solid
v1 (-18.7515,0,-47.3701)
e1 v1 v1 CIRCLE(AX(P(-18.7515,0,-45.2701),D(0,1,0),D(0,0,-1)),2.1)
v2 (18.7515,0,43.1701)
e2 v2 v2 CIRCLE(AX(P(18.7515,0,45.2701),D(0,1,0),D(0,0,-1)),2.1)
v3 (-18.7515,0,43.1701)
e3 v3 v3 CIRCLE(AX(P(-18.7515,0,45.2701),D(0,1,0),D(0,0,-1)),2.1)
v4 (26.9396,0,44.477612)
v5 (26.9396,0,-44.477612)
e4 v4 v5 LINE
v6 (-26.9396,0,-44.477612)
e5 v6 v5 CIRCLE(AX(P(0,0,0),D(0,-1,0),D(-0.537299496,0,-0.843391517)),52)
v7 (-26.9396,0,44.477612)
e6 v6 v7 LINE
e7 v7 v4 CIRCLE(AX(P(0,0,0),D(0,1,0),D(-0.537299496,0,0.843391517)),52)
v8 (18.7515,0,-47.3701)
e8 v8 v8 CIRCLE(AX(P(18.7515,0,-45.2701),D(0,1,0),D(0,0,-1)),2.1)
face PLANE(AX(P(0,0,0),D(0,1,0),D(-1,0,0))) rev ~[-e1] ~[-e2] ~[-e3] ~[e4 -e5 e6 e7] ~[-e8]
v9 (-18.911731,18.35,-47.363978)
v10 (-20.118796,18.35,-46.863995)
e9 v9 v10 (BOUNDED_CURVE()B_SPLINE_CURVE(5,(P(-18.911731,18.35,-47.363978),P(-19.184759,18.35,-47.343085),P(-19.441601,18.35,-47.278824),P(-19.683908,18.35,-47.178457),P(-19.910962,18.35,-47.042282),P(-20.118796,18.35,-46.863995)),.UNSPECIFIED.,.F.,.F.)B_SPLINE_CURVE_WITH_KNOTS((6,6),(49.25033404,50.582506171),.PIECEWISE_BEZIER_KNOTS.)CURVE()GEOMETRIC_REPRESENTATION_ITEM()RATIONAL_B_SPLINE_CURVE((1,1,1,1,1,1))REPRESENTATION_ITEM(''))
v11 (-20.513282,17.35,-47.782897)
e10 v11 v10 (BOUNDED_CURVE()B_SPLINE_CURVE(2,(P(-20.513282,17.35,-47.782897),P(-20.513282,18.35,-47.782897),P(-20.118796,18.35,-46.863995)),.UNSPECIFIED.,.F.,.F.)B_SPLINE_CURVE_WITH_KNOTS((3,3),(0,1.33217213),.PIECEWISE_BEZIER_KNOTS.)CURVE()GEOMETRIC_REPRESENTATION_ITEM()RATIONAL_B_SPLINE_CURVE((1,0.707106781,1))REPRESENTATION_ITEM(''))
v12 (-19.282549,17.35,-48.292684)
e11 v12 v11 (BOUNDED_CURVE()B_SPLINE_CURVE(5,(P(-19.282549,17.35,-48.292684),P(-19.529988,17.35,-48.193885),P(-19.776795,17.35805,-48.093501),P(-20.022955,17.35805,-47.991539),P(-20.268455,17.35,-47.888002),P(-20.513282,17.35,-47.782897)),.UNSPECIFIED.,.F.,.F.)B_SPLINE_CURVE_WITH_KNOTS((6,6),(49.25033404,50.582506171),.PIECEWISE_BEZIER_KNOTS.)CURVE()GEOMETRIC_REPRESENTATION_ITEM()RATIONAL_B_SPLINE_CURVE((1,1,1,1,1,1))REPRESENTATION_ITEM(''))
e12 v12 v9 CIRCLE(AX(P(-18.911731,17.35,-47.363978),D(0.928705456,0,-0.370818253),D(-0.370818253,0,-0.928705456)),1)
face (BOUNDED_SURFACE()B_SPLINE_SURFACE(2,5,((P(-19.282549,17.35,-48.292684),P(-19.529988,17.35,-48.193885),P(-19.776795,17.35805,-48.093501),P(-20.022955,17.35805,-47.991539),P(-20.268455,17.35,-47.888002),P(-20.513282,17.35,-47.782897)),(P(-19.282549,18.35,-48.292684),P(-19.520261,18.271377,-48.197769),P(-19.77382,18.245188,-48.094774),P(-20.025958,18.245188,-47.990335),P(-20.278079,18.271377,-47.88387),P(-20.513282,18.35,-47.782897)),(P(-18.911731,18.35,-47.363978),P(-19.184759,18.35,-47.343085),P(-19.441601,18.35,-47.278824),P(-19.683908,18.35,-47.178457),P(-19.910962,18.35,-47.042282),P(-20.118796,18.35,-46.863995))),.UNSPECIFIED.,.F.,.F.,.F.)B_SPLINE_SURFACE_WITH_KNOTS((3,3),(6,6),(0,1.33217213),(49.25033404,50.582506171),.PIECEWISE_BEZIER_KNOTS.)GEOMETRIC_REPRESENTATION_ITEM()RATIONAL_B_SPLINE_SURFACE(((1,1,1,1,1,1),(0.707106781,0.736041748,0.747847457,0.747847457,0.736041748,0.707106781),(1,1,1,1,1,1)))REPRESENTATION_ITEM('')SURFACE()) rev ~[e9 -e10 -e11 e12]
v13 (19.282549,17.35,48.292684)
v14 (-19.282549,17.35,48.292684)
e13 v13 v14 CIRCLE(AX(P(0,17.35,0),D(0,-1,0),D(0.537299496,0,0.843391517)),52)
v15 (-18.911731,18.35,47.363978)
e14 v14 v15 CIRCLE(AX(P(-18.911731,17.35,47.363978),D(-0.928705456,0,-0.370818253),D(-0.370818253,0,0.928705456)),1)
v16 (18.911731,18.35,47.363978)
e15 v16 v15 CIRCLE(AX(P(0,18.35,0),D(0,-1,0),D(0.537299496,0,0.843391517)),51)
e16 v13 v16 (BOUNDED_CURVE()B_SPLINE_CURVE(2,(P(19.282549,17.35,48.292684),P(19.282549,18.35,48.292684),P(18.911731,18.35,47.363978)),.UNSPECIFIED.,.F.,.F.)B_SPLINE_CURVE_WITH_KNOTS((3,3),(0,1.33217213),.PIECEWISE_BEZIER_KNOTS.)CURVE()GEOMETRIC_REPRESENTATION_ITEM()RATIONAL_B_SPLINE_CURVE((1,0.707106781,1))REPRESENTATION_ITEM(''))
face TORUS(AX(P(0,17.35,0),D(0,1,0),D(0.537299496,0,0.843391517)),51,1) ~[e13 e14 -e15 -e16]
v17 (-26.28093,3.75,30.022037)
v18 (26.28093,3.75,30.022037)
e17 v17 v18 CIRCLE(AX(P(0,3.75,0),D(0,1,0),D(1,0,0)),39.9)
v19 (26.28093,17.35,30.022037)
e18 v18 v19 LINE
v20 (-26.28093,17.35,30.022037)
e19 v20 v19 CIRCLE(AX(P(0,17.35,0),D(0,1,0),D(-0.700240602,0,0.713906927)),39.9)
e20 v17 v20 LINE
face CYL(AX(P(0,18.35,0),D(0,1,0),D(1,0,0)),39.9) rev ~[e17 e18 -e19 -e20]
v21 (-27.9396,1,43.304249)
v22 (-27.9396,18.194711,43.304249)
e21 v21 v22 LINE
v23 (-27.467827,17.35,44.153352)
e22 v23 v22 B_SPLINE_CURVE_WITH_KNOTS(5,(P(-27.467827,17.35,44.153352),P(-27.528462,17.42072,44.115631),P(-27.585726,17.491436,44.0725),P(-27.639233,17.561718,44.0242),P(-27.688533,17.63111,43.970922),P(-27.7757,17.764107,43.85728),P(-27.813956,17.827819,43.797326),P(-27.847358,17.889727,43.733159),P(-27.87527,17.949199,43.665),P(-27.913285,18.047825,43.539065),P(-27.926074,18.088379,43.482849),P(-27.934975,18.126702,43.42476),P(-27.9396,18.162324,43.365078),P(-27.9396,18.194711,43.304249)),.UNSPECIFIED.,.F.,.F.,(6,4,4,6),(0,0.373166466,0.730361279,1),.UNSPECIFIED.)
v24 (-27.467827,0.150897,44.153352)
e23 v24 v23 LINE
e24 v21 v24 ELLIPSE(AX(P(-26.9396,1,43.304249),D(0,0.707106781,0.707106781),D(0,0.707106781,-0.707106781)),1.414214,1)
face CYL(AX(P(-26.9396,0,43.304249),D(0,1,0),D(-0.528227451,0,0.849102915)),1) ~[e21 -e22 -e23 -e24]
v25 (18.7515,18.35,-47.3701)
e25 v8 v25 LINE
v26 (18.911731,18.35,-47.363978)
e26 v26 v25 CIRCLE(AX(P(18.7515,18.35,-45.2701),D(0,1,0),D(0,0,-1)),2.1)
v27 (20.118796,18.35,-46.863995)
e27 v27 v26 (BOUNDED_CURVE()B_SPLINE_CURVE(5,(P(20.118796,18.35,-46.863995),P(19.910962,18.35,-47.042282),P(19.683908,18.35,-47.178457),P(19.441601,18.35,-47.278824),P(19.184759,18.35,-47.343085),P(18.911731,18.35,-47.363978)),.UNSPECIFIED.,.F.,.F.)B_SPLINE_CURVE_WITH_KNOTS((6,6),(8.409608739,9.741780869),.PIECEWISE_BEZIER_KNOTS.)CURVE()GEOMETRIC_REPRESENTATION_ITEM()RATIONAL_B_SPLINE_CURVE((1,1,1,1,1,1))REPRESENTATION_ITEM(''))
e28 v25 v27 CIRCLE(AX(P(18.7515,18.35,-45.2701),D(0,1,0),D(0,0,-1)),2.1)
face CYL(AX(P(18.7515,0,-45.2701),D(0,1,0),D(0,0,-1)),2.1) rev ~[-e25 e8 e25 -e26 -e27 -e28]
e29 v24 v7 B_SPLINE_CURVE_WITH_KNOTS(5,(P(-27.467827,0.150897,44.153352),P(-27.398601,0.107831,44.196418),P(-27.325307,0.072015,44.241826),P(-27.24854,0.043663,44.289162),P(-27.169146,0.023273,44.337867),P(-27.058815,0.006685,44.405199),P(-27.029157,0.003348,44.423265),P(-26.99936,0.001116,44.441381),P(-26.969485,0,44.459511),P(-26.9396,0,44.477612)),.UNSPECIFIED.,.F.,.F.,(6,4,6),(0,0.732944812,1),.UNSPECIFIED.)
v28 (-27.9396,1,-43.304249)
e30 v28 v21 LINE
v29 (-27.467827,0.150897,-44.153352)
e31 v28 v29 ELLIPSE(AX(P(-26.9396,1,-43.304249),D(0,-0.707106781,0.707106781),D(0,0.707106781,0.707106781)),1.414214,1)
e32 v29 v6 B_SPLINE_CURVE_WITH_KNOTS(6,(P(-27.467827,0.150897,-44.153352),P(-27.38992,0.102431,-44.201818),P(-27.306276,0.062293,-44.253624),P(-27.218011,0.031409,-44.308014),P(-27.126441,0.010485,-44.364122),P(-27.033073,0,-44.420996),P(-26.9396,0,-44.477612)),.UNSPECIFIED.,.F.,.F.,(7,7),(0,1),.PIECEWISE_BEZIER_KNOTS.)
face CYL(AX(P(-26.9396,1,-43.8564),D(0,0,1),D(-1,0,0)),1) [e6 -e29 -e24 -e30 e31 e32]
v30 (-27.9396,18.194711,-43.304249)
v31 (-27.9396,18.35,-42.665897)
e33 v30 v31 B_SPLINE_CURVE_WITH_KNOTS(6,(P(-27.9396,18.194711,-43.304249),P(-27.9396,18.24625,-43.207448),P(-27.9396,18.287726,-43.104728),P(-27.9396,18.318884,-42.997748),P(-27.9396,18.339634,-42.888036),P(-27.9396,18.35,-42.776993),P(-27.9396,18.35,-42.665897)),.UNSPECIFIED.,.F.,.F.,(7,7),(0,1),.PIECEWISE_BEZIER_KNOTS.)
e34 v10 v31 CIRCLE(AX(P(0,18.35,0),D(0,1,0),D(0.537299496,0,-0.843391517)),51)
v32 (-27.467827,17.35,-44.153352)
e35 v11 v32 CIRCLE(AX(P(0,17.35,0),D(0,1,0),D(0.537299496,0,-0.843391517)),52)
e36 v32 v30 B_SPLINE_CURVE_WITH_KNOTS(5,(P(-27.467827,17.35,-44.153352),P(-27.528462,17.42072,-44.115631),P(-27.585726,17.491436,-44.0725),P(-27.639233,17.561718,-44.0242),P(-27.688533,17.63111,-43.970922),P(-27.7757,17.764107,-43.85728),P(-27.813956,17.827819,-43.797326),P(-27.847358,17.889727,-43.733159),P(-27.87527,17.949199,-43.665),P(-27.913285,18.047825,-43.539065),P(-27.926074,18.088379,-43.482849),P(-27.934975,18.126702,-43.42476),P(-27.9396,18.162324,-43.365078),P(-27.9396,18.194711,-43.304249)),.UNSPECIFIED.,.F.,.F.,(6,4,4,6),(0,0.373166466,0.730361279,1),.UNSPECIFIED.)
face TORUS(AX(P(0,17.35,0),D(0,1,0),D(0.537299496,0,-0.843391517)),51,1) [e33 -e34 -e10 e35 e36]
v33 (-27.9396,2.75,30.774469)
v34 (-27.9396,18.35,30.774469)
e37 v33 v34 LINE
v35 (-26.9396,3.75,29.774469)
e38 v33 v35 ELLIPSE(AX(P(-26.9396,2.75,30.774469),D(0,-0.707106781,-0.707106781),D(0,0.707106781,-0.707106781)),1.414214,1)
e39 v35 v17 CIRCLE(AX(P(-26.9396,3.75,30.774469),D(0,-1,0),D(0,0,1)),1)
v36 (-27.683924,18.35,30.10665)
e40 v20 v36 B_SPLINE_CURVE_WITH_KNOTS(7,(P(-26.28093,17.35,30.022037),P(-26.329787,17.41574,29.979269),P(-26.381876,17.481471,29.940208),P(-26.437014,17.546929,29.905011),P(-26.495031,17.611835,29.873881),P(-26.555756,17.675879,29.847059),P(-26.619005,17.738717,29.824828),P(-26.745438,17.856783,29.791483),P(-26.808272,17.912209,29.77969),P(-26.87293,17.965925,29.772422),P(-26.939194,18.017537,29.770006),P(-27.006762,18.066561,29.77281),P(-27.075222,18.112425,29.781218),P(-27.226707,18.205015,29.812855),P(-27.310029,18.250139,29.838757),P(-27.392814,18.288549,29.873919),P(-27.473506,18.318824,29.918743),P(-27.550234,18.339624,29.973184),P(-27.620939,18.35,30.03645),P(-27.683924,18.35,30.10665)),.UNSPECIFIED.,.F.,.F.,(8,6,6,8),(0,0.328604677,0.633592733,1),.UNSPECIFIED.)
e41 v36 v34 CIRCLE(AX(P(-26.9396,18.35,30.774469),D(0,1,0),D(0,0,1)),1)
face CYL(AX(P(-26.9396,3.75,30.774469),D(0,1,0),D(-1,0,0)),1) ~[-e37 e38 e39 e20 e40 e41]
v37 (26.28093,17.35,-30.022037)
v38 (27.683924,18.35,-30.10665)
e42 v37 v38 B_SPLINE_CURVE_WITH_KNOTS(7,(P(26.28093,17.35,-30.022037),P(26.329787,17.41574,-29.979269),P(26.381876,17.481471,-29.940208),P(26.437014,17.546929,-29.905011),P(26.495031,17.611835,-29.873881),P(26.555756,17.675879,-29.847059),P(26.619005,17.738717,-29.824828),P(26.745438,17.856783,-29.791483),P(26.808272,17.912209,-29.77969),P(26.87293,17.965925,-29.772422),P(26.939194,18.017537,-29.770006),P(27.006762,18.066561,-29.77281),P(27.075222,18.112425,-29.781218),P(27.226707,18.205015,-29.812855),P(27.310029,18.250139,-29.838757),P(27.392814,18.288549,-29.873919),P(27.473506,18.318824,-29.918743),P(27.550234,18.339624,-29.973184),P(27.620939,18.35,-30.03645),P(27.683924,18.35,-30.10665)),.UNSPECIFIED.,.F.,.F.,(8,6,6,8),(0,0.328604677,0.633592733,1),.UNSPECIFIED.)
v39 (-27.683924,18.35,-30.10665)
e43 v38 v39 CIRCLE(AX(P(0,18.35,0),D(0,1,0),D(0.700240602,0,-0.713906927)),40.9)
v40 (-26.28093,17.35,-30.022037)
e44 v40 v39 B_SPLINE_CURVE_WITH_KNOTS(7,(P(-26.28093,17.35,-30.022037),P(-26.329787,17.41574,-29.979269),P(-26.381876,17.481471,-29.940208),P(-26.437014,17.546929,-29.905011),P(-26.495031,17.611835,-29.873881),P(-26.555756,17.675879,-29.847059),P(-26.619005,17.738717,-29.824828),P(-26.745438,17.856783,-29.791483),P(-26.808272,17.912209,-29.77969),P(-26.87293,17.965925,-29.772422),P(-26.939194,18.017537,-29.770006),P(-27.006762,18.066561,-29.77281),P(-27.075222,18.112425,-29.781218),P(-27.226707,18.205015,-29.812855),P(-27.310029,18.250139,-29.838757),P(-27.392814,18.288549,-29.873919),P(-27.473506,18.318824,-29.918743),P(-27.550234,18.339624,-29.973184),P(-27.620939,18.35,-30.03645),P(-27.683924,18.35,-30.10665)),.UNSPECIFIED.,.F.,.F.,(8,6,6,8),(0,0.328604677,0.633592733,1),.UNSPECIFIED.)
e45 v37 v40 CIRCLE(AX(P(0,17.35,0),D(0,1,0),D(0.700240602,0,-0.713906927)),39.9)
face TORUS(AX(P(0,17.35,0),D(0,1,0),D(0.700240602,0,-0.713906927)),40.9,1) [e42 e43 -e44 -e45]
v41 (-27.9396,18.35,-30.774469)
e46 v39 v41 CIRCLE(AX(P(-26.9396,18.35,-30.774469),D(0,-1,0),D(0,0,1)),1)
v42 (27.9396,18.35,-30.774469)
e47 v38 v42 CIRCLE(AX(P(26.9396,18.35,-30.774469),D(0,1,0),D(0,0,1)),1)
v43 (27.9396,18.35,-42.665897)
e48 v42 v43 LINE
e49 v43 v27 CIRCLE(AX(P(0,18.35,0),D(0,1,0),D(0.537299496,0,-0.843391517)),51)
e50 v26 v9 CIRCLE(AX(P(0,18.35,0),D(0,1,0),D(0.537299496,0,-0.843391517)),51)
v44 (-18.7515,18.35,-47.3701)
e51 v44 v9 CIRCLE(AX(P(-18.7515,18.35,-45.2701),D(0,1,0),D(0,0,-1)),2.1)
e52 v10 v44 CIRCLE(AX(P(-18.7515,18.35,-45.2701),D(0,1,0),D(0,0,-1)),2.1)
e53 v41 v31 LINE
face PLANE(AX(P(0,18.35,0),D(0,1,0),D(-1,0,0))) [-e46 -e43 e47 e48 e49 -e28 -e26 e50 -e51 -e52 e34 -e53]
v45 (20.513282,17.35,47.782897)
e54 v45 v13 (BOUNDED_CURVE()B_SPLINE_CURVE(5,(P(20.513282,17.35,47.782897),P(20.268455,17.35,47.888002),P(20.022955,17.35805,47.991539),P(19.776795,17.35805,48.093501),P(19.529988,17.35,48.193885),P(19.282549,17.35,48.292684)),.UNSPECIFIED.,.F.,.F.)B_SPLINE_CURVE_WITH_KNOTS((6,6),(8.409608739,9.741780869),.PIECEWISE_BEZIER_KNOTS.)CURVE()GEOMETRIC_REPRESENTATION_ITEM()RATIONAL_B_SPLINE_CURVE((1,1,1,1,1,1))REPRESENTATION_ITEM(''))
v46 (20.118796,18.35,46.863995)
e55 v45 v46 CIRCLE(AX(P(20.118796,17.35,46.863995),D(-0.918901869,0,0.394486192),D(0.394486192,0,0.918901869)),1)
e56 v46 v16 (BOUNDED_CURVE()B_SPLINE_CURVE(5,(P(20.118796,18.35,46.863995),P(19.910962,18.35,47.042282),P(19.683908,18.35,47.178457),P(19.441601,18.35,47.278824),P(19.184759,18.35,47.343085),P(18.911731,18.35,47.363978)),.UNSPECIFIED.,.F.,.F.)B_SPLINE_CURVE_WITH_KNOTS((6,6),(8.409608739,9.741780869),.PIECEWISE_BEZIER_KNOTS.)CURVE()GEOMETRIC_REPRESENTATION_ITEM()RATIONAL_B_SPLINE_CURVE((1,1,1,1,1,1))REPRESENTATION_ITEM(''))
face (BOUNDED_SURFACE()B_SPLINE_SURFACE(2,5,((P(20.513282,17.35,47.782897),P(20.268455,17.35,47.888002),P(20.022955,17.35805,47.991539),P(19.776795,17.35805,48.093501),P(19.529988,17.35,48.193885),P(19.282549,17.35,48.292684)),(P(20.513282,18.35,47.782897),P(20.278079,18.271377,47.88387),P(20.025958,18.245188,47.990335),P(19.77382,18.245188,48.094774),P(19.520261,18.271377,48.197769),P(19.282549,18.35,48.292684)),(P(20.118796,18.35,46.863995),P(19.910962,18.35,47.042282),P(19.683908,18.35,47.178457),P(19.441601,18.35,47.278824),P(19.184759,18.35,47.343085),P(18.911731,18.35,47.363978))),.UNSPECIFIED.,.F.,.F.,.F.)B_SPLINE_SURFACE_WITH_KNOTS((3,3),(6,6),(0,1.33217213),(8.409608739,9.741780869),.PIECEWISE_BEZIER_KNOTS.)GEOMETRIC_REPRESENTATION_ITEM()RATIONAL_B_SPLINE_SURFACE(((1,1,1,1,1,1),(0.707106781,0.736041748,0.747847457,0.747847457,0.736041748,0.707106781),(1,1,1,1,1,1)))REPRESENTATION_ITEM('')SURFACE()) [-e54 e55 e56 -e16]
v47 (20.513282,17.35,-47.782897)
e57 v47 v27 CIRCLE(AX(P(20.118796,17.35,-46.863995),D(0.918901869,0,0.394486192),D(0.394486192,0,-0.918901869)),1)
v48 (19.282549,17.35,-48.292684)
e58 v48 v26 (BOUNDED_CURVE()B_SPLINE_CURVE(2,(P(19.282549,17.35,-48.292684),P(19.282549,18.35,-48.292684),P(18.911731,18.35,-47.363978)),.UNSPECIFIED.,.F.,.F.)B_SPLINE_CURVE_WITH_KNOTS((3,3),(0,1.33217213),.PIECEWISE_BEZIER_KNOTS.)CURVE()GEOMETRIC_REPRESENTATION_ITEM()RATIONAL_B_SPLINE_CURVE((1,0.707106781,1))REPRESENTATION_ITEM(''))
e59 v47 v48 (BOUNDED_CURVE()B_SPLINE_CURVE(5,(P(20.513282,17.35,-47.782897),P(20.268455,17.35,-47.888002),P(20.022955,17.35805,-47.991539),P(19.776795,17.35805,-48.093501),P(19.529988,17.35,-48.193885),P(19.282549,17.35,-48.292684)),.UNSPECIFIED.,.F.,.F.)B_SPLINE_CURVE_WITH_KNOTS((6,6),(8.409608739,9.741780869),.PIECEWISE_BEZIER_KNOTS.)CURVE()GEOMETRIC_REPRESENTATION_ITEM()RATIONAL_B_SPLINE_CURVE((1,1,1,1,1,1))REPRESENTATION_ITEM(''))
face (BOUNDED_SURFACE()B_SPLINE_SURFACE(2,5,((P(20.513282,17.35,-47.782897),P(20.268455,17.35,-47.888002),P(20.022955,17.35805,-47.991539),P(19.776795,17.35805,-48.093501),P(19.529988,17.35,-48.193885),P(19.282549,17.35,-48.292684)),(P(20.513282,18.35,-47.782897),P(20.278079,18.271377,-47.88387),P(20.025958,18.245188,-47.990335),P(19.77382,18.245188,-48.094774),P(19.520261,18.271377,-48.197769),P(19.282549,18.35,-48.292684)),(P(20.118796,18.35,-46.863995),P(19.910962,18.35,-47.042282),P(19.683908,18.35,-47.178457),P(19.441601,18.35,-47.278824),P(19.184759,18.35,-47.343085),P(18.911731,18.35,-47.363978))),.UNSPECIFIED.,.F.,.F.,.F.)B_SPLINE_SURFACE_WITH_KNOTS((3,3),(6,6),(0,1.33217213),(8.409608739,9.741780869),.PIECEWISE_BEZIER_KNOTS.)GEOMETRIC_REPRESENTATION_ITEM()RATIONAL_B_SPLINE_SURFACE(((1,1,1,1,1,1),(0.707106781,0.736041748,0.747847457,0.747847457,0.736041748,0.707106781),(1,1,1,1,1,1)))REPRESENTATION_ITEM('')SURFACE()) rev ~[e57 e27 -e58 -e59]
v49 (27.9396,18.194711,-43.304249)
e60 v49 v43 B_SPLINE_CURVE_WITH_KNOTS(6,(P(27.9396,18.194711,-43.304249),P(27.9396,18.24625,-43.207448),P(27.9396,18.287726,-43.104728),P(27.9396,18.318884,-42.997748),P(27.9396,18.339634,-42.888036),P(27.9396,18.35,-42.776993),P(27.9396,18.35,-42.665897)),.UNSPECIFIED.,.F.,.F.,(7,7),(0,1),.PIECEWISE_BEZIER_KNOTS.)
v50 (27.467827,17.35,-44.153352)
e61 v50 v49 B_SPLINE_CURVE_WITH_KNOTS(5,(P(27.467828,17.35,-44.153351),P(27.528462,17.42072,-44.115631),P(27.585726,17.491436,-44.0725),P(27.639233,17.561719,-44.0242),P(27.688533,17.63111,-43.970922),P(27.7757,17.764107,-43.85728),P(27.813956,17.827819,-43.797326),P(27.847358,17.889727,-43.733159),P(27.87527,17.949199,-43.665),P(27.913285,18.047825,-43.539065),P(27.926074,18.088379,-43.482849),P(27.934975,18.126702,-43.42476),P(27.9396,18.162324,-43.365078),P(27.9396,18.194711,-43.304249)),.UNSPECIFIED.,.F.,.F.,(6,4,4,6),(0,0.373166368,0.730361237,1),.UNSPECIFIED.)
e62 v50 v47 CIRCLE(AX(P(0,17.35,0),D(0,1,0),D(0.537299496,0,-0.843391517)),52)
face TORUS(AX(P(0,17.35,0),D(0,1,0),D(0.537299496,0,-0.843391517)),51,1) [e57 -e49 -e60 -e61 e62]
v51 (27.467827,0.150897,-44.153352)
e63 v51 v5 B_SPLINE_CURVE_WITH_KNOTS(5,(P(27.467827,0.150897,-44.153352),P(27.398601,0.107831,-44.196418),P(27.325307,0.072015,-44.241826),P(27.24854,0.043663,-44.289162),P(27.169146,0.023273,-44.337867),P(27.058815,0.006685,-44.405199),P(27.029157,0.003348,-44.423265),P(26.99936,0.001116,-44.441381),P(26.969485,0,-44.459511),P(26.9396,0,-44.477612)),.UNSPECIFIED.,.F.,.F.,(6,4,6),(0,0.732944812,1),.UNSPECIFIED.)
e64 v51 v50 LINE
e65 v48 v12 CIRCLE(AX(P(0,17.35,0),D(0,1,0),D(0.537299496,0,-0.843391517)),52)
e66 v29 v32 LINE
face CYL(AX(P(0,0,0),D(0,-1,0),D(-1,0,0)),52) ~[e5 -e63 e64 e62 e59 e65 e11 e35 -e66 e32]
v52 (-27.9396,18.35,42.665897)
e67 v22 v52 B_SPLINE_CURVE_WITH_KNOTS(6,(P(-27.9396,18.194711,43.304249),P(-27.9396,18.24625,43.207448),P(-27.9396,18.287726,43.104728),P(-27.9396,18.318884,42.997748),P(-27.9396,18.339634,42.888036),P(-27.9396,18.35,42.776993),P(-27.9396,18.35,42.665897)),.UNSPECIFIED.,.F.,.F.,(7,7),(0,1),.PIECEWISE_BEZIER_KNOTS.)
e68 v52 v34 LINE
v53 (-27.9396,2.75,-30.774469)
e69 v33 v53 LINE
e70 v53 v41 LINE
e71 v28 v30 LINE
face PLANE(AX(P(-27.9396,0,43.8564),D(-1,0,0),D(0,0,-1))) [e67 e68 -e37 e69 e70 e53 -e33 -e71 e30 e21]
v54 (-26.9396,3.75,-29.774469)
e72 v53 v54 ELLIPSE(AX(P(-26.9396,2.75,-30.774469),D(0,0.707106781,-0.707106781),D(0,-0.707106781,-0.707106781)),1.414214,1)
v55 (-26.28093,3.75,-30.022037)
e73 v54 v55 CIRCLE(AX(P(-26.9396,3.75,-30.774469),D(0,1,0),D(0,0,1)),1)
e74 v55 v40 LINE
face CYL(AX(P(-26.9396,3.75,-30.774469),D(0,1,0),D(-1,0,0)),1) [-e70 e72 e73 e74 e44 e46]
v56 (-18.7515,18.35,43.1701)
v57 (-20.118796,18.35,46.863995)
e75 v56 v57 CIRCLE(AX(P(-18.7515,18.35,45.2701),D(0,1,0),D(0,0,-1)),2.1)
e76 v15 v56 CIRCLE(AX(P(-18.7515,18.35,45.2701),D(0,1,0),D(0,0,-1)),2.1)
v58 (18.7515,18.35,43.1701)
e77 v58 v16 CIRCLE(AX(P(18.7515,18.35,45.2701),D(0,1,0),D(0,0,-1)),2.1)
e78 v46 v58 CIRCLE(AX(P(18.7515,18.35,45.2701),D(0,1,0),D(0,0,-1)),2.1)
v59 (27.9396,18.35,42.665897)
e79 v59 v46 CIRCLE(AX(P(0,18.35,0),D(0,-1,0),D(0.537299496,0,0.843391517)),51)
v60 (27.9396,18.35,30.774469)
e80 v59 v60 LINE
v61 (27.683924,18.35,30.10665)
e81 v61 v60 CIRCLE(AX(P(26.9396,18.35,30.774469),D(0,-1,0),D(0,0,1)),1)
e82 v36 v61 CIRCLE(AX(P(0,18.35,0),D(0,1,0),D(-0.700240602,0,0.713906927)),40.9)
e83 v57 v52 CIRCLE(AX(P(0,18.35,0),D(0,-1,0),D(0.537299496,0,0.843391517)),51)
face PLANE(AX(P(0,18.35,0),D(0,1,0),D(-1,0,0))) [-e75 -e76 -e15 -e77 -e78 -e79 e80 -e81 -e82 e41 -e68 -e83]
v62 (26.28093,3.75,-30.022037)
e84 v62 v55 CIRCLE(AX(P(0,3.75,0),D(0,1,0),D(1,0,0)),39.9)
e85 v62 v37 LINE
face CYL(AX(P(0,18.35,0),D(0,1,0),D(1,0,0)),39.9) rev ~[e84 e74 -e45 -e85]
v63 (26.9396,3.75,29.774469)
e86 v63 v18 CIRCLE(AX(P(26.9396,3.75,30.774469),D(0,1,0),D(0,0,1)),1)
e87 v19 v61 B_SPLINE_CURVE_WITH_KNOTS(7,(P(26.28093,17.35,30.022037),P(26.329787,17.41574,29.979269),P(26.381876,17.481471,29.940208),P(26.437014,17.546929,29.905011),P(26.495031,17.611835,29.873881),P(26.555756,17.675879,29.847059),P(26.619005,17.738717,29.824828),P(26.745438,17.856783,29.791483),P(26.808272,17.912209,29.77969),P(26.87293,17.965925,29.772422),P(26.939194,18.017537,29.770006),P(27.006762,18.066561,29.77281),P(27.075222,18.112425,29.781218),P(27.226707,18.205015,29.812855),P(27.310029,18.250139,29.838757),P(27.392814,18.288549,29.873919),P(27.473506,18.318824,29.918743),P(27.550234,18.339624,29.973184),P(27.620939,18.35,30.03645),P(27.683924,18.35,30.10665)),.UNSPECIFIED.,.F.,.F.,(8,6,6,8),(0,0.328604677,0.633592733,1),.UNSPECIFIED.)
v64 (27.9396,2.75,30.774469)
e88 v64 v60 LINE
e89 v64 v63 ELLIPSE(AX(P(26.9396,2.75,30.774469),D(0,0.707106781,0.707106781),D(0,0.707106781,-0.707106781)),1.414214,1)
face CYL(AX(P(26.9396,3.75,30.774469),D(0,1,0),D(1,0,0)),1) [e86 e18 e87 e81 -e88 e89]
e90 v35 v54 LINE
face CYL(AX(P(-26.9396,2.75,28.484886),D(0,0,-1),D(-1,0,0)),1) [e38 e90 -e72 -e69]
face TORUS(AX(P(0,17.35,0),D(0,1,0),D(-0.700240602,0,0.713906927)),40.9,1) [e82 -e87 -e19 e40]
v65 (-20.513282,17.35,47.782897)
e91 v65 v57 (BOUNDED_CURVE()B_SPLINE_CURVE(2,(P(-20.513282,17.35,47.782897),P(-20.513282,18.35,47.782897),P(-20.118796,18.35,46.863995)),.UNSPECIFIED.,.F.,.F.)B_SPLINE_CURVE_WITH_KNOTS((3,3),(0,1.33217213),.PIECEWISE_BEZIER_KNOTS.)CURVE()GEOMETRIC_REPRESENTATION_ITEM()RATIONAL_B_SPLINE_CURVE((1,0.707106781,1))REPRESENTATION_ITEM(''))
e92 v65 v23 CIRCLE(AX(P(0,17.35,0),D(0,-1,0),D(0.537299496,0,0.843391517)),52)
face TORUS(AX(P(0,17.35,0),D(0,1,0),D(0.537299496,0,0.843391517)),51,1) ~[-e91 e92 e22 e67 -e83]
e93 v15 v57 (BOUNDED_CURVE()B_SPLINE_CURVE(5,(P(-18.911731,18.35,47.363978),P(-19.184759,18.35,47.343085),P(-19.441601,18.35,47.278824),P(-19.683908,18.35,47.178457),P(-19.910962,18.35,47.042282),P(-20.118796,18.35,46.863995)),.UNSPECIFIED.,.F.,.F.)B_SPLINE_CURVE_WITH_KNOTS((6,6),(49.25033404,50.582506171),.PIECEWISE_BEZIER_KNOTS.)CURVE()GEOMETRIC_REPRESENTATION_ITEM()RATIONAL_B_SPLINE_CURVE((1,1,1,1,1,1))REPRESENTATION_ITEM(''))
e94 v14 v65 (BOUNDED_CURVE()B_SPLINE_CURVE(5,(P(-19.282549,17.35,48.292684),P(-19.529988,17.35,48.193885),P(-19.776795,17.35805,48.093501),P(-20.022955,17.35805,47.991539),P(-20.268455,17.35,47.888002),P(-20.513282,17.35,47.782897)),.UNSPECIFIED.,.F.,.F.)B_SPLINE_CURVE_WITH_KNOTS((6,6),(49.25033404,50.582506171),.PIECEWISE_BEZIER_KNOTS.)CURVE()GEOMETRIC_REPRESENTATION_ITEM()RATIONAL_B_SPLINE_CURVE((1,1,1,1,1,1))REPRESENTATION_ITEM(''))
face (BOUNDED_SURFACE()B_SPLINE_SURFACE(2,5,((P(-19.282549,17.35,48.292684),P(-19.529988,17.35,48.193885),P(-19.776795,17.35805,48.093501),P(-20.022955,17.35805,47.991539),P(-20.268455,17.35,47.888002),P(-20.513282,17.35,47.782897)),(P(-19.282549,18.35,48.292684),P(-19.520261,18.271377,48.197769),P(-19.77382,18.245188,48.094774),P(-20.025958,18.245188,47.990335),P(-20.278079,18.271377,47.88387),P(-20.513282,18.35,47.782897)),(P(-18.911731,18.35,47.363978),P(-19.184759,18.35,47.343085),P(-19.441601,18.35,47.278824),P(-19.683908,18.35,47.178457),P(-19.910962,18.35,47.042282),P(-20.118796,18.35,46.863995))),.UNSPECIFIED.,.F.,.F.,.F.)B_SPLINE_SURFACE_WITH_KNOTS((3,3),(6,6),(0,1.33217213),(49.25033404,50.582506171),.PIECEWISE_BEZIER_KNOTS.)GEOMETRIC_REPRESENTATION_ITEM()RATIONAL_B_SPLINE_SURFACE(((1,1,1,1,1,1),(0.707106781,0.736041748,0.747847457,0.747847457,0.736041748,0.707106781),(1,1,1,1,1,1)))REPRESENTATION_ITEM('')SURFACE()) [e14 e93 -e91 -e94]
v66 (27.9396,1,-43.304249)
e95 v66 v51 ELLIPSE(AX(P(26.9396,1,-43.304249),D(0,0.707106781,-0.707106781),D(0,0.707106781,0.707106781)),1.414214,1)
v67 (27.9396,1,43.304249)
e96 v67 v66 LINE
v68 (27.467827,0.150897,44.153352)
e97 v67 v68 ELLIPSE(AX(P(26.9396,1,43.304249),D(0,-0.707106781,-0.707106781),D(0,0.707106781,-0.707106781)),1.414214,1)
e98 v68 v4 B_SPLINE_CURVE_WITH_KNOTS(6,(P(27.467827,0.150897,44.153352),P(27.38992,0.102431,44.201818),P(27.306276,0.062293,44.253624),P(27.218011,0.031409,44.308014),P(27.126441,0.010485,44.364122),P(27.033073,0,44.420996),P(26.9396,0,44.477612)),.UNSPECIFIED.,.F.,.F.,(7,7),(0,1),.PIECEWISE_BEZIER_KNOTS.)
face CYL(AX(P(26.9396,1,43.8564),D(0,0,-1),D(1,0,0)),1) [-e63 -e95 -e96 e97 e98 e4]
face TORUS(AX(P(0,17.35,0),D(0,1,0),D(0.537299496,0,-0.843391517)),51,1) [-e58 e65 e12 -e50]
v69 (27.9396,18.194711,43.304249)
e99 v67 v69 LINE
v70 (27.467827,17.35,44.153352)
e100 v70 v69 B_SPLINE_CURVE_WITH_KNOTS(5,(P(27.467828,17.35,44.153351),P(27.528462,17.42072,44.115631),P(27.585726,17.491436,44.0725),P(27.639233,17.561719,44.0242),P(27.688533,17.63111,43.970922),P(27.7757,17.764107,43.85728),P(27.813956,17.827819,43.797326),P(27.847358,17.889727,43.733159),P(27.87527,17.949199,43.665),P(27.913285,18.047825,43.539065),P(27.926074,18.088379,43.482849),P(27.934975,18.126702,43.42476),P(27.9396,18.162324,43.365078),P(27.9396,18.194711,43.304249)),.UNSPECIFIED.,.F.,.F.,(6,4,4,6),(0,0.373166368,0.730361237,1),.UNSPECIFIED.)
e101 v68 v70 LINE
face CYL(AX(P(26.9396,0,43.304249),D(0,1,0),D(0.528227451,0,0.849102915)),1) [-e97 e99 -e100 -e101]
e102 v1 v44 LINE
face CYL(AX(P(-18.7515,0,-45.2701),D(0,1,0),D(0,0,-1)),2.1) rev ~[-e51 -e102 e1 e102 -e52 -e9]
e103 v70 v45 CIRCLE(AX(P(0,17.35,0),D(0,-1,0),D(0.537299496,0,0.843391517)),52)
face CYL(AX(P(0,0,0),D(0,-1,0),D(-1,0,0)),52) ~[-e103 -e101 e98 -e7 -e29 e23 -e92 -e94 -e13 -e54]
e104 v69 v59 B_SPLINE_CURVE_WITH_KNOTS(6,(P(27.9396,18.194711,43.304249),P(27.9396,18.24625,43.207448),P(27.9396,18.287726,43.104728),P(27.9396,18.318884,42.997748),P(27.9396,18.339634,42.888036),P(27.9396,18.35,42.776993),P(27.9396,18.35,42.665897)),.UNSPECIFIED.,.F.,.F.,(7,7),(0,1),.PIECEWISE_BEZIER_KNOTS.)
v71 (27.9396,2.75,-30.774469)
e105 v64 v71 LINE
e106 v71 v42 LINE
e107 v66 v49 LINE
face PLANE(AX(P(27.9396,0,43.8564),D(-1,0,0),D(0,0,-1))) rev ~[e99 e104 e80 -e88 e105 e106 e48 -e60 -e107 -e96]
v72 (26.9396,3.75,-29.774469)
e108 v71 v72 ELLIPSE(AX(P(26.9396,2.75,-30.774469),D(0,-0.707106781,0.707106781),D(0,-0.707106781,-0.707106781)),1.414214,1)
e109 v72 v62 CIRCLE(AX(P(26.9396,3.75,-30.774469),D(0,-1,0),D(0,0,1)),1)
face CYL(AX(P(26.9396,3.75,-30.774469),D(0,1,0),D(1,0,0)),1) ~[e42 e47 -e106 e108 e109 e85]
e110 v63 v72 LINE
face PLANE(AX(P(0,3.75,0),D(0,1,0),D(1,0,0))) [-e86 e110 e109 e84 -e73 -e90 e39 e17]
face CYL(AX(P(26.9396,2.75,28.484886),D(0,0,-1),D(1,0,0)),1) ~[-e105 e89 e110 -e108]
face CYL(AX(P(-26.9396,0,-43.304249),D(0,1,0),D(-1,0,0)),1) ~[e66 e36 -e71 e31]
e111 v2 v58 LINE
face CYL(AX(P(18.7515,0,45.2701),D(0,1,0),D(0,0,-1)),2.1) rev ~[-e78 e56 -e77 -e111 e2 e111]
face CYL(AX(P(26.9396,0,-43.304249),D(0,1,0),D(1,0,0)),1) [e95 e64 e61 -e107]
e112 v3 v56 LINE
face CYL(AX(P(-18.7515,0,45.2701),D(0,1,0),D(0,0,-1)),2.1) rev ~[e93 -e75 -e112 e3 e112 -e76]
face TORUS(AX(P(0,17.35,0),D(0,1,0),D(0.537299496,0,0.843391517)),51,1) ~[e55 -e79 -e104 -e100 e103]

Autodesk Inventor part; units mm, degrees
ref_plane "YZ Plane" through (0, 0, 0) normal (1, 0, 0) x (0, 1, 0)
ref_plane "XZ Plane" through (0, 0, 0) normal (0, 1, 0) x (-1, 0, 0)
ref_plane "XY Plane" through (0, 0, 0) normal (0, 0, 1) x (1, 0, 0)
sketch "スケッチ1" plane through (0, 0, 0) normal (0, 1, 0) x (-1, 0, 0)
  circle A0 centre (0, 0) radius 52
  line L0 (27.9396, 43.8564) -> (27.9396, -43.8564)
  line L1 (27.9396, -43.8564) -> (0, 0)
  line L2 (0, 0) -> (52, 0)
  line L3 (27.9396, 43.8564) -> (0, 0)
  line L4 (0, 52) -> (0, -52)
  line L5 (-27.9396, 43.8564) -> (-27.9396, -43.8564)
  line L6 (-27.9396, -43.8564) -> (0, 0)
  line L7 (-27.9396, 43.8564) -> (0, 0)
  dimension "d0" = 104
  dimension "d1" = 57.5
extrude "押し出し1" add sketch "スケッチ1" along normal blind 18.35 contours L3 L4 A0 | L0 L2 L3 | L1 L2 L0 | A0 L4 L1 | L4 L7 A0 | L4 A0 L6 | L6 L5 L7
sketch "スケッチ2" plane through (0, 18.35, 0) normal (0, 1, 0) x (1, 0, 0)
  circle A0 centre (0, 0) radius 39.9
  dimension "d4" = 79.8
extrude "押し出し2" cut sketch "スケッチ2" against normal blind 14.6
sketch "スケッチ3" plane through (0, 0, 0) normal (0, -1, 0) x (1, 0, 0)
  line L0 (0, 0) -> (0, 52)
  arc A0 (27.9396, 43.8564) -> (-27.9396, 43.8564) centre (0, 0) ccw projected
  line L1 (0, 0) -> (19.8995, 48.0417)
  line L2 (0, 0) -> (27.9396, 0)
  line L3 (27.9396, -28.4849) -> (27.9396, 28.4849) projected
  point P0 (18.7515, 45.2701)
  point P1 (-18.7515, 45.2701)
  point P2 (18.7515, -45.2701)
  point P3 (-18.7515, -45.2701)
  dimension "d8" = 98
  dimension "d7" = 22.5
hole "穴1" at (18.7515, 0, 45.2701) at (-18.7515, 0, 45.2701) at (-18.7515, 0, -45.2701) at (18.7515, 0, -45.2701) direction (0, 1, 0) diameter 4.2 end through all
fillet "フィレット1" radius 1 16 edges at (0, 18.35, 39.9) (0, 18.35, -39.9) (0, 18.35, 52) (27.9396, 3.75, 0) (27.9396, 0, 0) (27.9396, 11.05, 28.4849) (27.9396, 11.05, -28.4849) (27.9396, 9.175, 43.8564) (-27.9396, 9.175, 43.8564) (-27.9396, 11.05, 28.4849) (-27.9396, 11.05, -28.4849) (27.9396, 9.175, -43.8564) (0, 18.35, -52) (-27.9396, 9.175, -43.8564) (-27.9396, 3.75, 0) (-27.9396, 0, 0)
properties part number "base_part8"
